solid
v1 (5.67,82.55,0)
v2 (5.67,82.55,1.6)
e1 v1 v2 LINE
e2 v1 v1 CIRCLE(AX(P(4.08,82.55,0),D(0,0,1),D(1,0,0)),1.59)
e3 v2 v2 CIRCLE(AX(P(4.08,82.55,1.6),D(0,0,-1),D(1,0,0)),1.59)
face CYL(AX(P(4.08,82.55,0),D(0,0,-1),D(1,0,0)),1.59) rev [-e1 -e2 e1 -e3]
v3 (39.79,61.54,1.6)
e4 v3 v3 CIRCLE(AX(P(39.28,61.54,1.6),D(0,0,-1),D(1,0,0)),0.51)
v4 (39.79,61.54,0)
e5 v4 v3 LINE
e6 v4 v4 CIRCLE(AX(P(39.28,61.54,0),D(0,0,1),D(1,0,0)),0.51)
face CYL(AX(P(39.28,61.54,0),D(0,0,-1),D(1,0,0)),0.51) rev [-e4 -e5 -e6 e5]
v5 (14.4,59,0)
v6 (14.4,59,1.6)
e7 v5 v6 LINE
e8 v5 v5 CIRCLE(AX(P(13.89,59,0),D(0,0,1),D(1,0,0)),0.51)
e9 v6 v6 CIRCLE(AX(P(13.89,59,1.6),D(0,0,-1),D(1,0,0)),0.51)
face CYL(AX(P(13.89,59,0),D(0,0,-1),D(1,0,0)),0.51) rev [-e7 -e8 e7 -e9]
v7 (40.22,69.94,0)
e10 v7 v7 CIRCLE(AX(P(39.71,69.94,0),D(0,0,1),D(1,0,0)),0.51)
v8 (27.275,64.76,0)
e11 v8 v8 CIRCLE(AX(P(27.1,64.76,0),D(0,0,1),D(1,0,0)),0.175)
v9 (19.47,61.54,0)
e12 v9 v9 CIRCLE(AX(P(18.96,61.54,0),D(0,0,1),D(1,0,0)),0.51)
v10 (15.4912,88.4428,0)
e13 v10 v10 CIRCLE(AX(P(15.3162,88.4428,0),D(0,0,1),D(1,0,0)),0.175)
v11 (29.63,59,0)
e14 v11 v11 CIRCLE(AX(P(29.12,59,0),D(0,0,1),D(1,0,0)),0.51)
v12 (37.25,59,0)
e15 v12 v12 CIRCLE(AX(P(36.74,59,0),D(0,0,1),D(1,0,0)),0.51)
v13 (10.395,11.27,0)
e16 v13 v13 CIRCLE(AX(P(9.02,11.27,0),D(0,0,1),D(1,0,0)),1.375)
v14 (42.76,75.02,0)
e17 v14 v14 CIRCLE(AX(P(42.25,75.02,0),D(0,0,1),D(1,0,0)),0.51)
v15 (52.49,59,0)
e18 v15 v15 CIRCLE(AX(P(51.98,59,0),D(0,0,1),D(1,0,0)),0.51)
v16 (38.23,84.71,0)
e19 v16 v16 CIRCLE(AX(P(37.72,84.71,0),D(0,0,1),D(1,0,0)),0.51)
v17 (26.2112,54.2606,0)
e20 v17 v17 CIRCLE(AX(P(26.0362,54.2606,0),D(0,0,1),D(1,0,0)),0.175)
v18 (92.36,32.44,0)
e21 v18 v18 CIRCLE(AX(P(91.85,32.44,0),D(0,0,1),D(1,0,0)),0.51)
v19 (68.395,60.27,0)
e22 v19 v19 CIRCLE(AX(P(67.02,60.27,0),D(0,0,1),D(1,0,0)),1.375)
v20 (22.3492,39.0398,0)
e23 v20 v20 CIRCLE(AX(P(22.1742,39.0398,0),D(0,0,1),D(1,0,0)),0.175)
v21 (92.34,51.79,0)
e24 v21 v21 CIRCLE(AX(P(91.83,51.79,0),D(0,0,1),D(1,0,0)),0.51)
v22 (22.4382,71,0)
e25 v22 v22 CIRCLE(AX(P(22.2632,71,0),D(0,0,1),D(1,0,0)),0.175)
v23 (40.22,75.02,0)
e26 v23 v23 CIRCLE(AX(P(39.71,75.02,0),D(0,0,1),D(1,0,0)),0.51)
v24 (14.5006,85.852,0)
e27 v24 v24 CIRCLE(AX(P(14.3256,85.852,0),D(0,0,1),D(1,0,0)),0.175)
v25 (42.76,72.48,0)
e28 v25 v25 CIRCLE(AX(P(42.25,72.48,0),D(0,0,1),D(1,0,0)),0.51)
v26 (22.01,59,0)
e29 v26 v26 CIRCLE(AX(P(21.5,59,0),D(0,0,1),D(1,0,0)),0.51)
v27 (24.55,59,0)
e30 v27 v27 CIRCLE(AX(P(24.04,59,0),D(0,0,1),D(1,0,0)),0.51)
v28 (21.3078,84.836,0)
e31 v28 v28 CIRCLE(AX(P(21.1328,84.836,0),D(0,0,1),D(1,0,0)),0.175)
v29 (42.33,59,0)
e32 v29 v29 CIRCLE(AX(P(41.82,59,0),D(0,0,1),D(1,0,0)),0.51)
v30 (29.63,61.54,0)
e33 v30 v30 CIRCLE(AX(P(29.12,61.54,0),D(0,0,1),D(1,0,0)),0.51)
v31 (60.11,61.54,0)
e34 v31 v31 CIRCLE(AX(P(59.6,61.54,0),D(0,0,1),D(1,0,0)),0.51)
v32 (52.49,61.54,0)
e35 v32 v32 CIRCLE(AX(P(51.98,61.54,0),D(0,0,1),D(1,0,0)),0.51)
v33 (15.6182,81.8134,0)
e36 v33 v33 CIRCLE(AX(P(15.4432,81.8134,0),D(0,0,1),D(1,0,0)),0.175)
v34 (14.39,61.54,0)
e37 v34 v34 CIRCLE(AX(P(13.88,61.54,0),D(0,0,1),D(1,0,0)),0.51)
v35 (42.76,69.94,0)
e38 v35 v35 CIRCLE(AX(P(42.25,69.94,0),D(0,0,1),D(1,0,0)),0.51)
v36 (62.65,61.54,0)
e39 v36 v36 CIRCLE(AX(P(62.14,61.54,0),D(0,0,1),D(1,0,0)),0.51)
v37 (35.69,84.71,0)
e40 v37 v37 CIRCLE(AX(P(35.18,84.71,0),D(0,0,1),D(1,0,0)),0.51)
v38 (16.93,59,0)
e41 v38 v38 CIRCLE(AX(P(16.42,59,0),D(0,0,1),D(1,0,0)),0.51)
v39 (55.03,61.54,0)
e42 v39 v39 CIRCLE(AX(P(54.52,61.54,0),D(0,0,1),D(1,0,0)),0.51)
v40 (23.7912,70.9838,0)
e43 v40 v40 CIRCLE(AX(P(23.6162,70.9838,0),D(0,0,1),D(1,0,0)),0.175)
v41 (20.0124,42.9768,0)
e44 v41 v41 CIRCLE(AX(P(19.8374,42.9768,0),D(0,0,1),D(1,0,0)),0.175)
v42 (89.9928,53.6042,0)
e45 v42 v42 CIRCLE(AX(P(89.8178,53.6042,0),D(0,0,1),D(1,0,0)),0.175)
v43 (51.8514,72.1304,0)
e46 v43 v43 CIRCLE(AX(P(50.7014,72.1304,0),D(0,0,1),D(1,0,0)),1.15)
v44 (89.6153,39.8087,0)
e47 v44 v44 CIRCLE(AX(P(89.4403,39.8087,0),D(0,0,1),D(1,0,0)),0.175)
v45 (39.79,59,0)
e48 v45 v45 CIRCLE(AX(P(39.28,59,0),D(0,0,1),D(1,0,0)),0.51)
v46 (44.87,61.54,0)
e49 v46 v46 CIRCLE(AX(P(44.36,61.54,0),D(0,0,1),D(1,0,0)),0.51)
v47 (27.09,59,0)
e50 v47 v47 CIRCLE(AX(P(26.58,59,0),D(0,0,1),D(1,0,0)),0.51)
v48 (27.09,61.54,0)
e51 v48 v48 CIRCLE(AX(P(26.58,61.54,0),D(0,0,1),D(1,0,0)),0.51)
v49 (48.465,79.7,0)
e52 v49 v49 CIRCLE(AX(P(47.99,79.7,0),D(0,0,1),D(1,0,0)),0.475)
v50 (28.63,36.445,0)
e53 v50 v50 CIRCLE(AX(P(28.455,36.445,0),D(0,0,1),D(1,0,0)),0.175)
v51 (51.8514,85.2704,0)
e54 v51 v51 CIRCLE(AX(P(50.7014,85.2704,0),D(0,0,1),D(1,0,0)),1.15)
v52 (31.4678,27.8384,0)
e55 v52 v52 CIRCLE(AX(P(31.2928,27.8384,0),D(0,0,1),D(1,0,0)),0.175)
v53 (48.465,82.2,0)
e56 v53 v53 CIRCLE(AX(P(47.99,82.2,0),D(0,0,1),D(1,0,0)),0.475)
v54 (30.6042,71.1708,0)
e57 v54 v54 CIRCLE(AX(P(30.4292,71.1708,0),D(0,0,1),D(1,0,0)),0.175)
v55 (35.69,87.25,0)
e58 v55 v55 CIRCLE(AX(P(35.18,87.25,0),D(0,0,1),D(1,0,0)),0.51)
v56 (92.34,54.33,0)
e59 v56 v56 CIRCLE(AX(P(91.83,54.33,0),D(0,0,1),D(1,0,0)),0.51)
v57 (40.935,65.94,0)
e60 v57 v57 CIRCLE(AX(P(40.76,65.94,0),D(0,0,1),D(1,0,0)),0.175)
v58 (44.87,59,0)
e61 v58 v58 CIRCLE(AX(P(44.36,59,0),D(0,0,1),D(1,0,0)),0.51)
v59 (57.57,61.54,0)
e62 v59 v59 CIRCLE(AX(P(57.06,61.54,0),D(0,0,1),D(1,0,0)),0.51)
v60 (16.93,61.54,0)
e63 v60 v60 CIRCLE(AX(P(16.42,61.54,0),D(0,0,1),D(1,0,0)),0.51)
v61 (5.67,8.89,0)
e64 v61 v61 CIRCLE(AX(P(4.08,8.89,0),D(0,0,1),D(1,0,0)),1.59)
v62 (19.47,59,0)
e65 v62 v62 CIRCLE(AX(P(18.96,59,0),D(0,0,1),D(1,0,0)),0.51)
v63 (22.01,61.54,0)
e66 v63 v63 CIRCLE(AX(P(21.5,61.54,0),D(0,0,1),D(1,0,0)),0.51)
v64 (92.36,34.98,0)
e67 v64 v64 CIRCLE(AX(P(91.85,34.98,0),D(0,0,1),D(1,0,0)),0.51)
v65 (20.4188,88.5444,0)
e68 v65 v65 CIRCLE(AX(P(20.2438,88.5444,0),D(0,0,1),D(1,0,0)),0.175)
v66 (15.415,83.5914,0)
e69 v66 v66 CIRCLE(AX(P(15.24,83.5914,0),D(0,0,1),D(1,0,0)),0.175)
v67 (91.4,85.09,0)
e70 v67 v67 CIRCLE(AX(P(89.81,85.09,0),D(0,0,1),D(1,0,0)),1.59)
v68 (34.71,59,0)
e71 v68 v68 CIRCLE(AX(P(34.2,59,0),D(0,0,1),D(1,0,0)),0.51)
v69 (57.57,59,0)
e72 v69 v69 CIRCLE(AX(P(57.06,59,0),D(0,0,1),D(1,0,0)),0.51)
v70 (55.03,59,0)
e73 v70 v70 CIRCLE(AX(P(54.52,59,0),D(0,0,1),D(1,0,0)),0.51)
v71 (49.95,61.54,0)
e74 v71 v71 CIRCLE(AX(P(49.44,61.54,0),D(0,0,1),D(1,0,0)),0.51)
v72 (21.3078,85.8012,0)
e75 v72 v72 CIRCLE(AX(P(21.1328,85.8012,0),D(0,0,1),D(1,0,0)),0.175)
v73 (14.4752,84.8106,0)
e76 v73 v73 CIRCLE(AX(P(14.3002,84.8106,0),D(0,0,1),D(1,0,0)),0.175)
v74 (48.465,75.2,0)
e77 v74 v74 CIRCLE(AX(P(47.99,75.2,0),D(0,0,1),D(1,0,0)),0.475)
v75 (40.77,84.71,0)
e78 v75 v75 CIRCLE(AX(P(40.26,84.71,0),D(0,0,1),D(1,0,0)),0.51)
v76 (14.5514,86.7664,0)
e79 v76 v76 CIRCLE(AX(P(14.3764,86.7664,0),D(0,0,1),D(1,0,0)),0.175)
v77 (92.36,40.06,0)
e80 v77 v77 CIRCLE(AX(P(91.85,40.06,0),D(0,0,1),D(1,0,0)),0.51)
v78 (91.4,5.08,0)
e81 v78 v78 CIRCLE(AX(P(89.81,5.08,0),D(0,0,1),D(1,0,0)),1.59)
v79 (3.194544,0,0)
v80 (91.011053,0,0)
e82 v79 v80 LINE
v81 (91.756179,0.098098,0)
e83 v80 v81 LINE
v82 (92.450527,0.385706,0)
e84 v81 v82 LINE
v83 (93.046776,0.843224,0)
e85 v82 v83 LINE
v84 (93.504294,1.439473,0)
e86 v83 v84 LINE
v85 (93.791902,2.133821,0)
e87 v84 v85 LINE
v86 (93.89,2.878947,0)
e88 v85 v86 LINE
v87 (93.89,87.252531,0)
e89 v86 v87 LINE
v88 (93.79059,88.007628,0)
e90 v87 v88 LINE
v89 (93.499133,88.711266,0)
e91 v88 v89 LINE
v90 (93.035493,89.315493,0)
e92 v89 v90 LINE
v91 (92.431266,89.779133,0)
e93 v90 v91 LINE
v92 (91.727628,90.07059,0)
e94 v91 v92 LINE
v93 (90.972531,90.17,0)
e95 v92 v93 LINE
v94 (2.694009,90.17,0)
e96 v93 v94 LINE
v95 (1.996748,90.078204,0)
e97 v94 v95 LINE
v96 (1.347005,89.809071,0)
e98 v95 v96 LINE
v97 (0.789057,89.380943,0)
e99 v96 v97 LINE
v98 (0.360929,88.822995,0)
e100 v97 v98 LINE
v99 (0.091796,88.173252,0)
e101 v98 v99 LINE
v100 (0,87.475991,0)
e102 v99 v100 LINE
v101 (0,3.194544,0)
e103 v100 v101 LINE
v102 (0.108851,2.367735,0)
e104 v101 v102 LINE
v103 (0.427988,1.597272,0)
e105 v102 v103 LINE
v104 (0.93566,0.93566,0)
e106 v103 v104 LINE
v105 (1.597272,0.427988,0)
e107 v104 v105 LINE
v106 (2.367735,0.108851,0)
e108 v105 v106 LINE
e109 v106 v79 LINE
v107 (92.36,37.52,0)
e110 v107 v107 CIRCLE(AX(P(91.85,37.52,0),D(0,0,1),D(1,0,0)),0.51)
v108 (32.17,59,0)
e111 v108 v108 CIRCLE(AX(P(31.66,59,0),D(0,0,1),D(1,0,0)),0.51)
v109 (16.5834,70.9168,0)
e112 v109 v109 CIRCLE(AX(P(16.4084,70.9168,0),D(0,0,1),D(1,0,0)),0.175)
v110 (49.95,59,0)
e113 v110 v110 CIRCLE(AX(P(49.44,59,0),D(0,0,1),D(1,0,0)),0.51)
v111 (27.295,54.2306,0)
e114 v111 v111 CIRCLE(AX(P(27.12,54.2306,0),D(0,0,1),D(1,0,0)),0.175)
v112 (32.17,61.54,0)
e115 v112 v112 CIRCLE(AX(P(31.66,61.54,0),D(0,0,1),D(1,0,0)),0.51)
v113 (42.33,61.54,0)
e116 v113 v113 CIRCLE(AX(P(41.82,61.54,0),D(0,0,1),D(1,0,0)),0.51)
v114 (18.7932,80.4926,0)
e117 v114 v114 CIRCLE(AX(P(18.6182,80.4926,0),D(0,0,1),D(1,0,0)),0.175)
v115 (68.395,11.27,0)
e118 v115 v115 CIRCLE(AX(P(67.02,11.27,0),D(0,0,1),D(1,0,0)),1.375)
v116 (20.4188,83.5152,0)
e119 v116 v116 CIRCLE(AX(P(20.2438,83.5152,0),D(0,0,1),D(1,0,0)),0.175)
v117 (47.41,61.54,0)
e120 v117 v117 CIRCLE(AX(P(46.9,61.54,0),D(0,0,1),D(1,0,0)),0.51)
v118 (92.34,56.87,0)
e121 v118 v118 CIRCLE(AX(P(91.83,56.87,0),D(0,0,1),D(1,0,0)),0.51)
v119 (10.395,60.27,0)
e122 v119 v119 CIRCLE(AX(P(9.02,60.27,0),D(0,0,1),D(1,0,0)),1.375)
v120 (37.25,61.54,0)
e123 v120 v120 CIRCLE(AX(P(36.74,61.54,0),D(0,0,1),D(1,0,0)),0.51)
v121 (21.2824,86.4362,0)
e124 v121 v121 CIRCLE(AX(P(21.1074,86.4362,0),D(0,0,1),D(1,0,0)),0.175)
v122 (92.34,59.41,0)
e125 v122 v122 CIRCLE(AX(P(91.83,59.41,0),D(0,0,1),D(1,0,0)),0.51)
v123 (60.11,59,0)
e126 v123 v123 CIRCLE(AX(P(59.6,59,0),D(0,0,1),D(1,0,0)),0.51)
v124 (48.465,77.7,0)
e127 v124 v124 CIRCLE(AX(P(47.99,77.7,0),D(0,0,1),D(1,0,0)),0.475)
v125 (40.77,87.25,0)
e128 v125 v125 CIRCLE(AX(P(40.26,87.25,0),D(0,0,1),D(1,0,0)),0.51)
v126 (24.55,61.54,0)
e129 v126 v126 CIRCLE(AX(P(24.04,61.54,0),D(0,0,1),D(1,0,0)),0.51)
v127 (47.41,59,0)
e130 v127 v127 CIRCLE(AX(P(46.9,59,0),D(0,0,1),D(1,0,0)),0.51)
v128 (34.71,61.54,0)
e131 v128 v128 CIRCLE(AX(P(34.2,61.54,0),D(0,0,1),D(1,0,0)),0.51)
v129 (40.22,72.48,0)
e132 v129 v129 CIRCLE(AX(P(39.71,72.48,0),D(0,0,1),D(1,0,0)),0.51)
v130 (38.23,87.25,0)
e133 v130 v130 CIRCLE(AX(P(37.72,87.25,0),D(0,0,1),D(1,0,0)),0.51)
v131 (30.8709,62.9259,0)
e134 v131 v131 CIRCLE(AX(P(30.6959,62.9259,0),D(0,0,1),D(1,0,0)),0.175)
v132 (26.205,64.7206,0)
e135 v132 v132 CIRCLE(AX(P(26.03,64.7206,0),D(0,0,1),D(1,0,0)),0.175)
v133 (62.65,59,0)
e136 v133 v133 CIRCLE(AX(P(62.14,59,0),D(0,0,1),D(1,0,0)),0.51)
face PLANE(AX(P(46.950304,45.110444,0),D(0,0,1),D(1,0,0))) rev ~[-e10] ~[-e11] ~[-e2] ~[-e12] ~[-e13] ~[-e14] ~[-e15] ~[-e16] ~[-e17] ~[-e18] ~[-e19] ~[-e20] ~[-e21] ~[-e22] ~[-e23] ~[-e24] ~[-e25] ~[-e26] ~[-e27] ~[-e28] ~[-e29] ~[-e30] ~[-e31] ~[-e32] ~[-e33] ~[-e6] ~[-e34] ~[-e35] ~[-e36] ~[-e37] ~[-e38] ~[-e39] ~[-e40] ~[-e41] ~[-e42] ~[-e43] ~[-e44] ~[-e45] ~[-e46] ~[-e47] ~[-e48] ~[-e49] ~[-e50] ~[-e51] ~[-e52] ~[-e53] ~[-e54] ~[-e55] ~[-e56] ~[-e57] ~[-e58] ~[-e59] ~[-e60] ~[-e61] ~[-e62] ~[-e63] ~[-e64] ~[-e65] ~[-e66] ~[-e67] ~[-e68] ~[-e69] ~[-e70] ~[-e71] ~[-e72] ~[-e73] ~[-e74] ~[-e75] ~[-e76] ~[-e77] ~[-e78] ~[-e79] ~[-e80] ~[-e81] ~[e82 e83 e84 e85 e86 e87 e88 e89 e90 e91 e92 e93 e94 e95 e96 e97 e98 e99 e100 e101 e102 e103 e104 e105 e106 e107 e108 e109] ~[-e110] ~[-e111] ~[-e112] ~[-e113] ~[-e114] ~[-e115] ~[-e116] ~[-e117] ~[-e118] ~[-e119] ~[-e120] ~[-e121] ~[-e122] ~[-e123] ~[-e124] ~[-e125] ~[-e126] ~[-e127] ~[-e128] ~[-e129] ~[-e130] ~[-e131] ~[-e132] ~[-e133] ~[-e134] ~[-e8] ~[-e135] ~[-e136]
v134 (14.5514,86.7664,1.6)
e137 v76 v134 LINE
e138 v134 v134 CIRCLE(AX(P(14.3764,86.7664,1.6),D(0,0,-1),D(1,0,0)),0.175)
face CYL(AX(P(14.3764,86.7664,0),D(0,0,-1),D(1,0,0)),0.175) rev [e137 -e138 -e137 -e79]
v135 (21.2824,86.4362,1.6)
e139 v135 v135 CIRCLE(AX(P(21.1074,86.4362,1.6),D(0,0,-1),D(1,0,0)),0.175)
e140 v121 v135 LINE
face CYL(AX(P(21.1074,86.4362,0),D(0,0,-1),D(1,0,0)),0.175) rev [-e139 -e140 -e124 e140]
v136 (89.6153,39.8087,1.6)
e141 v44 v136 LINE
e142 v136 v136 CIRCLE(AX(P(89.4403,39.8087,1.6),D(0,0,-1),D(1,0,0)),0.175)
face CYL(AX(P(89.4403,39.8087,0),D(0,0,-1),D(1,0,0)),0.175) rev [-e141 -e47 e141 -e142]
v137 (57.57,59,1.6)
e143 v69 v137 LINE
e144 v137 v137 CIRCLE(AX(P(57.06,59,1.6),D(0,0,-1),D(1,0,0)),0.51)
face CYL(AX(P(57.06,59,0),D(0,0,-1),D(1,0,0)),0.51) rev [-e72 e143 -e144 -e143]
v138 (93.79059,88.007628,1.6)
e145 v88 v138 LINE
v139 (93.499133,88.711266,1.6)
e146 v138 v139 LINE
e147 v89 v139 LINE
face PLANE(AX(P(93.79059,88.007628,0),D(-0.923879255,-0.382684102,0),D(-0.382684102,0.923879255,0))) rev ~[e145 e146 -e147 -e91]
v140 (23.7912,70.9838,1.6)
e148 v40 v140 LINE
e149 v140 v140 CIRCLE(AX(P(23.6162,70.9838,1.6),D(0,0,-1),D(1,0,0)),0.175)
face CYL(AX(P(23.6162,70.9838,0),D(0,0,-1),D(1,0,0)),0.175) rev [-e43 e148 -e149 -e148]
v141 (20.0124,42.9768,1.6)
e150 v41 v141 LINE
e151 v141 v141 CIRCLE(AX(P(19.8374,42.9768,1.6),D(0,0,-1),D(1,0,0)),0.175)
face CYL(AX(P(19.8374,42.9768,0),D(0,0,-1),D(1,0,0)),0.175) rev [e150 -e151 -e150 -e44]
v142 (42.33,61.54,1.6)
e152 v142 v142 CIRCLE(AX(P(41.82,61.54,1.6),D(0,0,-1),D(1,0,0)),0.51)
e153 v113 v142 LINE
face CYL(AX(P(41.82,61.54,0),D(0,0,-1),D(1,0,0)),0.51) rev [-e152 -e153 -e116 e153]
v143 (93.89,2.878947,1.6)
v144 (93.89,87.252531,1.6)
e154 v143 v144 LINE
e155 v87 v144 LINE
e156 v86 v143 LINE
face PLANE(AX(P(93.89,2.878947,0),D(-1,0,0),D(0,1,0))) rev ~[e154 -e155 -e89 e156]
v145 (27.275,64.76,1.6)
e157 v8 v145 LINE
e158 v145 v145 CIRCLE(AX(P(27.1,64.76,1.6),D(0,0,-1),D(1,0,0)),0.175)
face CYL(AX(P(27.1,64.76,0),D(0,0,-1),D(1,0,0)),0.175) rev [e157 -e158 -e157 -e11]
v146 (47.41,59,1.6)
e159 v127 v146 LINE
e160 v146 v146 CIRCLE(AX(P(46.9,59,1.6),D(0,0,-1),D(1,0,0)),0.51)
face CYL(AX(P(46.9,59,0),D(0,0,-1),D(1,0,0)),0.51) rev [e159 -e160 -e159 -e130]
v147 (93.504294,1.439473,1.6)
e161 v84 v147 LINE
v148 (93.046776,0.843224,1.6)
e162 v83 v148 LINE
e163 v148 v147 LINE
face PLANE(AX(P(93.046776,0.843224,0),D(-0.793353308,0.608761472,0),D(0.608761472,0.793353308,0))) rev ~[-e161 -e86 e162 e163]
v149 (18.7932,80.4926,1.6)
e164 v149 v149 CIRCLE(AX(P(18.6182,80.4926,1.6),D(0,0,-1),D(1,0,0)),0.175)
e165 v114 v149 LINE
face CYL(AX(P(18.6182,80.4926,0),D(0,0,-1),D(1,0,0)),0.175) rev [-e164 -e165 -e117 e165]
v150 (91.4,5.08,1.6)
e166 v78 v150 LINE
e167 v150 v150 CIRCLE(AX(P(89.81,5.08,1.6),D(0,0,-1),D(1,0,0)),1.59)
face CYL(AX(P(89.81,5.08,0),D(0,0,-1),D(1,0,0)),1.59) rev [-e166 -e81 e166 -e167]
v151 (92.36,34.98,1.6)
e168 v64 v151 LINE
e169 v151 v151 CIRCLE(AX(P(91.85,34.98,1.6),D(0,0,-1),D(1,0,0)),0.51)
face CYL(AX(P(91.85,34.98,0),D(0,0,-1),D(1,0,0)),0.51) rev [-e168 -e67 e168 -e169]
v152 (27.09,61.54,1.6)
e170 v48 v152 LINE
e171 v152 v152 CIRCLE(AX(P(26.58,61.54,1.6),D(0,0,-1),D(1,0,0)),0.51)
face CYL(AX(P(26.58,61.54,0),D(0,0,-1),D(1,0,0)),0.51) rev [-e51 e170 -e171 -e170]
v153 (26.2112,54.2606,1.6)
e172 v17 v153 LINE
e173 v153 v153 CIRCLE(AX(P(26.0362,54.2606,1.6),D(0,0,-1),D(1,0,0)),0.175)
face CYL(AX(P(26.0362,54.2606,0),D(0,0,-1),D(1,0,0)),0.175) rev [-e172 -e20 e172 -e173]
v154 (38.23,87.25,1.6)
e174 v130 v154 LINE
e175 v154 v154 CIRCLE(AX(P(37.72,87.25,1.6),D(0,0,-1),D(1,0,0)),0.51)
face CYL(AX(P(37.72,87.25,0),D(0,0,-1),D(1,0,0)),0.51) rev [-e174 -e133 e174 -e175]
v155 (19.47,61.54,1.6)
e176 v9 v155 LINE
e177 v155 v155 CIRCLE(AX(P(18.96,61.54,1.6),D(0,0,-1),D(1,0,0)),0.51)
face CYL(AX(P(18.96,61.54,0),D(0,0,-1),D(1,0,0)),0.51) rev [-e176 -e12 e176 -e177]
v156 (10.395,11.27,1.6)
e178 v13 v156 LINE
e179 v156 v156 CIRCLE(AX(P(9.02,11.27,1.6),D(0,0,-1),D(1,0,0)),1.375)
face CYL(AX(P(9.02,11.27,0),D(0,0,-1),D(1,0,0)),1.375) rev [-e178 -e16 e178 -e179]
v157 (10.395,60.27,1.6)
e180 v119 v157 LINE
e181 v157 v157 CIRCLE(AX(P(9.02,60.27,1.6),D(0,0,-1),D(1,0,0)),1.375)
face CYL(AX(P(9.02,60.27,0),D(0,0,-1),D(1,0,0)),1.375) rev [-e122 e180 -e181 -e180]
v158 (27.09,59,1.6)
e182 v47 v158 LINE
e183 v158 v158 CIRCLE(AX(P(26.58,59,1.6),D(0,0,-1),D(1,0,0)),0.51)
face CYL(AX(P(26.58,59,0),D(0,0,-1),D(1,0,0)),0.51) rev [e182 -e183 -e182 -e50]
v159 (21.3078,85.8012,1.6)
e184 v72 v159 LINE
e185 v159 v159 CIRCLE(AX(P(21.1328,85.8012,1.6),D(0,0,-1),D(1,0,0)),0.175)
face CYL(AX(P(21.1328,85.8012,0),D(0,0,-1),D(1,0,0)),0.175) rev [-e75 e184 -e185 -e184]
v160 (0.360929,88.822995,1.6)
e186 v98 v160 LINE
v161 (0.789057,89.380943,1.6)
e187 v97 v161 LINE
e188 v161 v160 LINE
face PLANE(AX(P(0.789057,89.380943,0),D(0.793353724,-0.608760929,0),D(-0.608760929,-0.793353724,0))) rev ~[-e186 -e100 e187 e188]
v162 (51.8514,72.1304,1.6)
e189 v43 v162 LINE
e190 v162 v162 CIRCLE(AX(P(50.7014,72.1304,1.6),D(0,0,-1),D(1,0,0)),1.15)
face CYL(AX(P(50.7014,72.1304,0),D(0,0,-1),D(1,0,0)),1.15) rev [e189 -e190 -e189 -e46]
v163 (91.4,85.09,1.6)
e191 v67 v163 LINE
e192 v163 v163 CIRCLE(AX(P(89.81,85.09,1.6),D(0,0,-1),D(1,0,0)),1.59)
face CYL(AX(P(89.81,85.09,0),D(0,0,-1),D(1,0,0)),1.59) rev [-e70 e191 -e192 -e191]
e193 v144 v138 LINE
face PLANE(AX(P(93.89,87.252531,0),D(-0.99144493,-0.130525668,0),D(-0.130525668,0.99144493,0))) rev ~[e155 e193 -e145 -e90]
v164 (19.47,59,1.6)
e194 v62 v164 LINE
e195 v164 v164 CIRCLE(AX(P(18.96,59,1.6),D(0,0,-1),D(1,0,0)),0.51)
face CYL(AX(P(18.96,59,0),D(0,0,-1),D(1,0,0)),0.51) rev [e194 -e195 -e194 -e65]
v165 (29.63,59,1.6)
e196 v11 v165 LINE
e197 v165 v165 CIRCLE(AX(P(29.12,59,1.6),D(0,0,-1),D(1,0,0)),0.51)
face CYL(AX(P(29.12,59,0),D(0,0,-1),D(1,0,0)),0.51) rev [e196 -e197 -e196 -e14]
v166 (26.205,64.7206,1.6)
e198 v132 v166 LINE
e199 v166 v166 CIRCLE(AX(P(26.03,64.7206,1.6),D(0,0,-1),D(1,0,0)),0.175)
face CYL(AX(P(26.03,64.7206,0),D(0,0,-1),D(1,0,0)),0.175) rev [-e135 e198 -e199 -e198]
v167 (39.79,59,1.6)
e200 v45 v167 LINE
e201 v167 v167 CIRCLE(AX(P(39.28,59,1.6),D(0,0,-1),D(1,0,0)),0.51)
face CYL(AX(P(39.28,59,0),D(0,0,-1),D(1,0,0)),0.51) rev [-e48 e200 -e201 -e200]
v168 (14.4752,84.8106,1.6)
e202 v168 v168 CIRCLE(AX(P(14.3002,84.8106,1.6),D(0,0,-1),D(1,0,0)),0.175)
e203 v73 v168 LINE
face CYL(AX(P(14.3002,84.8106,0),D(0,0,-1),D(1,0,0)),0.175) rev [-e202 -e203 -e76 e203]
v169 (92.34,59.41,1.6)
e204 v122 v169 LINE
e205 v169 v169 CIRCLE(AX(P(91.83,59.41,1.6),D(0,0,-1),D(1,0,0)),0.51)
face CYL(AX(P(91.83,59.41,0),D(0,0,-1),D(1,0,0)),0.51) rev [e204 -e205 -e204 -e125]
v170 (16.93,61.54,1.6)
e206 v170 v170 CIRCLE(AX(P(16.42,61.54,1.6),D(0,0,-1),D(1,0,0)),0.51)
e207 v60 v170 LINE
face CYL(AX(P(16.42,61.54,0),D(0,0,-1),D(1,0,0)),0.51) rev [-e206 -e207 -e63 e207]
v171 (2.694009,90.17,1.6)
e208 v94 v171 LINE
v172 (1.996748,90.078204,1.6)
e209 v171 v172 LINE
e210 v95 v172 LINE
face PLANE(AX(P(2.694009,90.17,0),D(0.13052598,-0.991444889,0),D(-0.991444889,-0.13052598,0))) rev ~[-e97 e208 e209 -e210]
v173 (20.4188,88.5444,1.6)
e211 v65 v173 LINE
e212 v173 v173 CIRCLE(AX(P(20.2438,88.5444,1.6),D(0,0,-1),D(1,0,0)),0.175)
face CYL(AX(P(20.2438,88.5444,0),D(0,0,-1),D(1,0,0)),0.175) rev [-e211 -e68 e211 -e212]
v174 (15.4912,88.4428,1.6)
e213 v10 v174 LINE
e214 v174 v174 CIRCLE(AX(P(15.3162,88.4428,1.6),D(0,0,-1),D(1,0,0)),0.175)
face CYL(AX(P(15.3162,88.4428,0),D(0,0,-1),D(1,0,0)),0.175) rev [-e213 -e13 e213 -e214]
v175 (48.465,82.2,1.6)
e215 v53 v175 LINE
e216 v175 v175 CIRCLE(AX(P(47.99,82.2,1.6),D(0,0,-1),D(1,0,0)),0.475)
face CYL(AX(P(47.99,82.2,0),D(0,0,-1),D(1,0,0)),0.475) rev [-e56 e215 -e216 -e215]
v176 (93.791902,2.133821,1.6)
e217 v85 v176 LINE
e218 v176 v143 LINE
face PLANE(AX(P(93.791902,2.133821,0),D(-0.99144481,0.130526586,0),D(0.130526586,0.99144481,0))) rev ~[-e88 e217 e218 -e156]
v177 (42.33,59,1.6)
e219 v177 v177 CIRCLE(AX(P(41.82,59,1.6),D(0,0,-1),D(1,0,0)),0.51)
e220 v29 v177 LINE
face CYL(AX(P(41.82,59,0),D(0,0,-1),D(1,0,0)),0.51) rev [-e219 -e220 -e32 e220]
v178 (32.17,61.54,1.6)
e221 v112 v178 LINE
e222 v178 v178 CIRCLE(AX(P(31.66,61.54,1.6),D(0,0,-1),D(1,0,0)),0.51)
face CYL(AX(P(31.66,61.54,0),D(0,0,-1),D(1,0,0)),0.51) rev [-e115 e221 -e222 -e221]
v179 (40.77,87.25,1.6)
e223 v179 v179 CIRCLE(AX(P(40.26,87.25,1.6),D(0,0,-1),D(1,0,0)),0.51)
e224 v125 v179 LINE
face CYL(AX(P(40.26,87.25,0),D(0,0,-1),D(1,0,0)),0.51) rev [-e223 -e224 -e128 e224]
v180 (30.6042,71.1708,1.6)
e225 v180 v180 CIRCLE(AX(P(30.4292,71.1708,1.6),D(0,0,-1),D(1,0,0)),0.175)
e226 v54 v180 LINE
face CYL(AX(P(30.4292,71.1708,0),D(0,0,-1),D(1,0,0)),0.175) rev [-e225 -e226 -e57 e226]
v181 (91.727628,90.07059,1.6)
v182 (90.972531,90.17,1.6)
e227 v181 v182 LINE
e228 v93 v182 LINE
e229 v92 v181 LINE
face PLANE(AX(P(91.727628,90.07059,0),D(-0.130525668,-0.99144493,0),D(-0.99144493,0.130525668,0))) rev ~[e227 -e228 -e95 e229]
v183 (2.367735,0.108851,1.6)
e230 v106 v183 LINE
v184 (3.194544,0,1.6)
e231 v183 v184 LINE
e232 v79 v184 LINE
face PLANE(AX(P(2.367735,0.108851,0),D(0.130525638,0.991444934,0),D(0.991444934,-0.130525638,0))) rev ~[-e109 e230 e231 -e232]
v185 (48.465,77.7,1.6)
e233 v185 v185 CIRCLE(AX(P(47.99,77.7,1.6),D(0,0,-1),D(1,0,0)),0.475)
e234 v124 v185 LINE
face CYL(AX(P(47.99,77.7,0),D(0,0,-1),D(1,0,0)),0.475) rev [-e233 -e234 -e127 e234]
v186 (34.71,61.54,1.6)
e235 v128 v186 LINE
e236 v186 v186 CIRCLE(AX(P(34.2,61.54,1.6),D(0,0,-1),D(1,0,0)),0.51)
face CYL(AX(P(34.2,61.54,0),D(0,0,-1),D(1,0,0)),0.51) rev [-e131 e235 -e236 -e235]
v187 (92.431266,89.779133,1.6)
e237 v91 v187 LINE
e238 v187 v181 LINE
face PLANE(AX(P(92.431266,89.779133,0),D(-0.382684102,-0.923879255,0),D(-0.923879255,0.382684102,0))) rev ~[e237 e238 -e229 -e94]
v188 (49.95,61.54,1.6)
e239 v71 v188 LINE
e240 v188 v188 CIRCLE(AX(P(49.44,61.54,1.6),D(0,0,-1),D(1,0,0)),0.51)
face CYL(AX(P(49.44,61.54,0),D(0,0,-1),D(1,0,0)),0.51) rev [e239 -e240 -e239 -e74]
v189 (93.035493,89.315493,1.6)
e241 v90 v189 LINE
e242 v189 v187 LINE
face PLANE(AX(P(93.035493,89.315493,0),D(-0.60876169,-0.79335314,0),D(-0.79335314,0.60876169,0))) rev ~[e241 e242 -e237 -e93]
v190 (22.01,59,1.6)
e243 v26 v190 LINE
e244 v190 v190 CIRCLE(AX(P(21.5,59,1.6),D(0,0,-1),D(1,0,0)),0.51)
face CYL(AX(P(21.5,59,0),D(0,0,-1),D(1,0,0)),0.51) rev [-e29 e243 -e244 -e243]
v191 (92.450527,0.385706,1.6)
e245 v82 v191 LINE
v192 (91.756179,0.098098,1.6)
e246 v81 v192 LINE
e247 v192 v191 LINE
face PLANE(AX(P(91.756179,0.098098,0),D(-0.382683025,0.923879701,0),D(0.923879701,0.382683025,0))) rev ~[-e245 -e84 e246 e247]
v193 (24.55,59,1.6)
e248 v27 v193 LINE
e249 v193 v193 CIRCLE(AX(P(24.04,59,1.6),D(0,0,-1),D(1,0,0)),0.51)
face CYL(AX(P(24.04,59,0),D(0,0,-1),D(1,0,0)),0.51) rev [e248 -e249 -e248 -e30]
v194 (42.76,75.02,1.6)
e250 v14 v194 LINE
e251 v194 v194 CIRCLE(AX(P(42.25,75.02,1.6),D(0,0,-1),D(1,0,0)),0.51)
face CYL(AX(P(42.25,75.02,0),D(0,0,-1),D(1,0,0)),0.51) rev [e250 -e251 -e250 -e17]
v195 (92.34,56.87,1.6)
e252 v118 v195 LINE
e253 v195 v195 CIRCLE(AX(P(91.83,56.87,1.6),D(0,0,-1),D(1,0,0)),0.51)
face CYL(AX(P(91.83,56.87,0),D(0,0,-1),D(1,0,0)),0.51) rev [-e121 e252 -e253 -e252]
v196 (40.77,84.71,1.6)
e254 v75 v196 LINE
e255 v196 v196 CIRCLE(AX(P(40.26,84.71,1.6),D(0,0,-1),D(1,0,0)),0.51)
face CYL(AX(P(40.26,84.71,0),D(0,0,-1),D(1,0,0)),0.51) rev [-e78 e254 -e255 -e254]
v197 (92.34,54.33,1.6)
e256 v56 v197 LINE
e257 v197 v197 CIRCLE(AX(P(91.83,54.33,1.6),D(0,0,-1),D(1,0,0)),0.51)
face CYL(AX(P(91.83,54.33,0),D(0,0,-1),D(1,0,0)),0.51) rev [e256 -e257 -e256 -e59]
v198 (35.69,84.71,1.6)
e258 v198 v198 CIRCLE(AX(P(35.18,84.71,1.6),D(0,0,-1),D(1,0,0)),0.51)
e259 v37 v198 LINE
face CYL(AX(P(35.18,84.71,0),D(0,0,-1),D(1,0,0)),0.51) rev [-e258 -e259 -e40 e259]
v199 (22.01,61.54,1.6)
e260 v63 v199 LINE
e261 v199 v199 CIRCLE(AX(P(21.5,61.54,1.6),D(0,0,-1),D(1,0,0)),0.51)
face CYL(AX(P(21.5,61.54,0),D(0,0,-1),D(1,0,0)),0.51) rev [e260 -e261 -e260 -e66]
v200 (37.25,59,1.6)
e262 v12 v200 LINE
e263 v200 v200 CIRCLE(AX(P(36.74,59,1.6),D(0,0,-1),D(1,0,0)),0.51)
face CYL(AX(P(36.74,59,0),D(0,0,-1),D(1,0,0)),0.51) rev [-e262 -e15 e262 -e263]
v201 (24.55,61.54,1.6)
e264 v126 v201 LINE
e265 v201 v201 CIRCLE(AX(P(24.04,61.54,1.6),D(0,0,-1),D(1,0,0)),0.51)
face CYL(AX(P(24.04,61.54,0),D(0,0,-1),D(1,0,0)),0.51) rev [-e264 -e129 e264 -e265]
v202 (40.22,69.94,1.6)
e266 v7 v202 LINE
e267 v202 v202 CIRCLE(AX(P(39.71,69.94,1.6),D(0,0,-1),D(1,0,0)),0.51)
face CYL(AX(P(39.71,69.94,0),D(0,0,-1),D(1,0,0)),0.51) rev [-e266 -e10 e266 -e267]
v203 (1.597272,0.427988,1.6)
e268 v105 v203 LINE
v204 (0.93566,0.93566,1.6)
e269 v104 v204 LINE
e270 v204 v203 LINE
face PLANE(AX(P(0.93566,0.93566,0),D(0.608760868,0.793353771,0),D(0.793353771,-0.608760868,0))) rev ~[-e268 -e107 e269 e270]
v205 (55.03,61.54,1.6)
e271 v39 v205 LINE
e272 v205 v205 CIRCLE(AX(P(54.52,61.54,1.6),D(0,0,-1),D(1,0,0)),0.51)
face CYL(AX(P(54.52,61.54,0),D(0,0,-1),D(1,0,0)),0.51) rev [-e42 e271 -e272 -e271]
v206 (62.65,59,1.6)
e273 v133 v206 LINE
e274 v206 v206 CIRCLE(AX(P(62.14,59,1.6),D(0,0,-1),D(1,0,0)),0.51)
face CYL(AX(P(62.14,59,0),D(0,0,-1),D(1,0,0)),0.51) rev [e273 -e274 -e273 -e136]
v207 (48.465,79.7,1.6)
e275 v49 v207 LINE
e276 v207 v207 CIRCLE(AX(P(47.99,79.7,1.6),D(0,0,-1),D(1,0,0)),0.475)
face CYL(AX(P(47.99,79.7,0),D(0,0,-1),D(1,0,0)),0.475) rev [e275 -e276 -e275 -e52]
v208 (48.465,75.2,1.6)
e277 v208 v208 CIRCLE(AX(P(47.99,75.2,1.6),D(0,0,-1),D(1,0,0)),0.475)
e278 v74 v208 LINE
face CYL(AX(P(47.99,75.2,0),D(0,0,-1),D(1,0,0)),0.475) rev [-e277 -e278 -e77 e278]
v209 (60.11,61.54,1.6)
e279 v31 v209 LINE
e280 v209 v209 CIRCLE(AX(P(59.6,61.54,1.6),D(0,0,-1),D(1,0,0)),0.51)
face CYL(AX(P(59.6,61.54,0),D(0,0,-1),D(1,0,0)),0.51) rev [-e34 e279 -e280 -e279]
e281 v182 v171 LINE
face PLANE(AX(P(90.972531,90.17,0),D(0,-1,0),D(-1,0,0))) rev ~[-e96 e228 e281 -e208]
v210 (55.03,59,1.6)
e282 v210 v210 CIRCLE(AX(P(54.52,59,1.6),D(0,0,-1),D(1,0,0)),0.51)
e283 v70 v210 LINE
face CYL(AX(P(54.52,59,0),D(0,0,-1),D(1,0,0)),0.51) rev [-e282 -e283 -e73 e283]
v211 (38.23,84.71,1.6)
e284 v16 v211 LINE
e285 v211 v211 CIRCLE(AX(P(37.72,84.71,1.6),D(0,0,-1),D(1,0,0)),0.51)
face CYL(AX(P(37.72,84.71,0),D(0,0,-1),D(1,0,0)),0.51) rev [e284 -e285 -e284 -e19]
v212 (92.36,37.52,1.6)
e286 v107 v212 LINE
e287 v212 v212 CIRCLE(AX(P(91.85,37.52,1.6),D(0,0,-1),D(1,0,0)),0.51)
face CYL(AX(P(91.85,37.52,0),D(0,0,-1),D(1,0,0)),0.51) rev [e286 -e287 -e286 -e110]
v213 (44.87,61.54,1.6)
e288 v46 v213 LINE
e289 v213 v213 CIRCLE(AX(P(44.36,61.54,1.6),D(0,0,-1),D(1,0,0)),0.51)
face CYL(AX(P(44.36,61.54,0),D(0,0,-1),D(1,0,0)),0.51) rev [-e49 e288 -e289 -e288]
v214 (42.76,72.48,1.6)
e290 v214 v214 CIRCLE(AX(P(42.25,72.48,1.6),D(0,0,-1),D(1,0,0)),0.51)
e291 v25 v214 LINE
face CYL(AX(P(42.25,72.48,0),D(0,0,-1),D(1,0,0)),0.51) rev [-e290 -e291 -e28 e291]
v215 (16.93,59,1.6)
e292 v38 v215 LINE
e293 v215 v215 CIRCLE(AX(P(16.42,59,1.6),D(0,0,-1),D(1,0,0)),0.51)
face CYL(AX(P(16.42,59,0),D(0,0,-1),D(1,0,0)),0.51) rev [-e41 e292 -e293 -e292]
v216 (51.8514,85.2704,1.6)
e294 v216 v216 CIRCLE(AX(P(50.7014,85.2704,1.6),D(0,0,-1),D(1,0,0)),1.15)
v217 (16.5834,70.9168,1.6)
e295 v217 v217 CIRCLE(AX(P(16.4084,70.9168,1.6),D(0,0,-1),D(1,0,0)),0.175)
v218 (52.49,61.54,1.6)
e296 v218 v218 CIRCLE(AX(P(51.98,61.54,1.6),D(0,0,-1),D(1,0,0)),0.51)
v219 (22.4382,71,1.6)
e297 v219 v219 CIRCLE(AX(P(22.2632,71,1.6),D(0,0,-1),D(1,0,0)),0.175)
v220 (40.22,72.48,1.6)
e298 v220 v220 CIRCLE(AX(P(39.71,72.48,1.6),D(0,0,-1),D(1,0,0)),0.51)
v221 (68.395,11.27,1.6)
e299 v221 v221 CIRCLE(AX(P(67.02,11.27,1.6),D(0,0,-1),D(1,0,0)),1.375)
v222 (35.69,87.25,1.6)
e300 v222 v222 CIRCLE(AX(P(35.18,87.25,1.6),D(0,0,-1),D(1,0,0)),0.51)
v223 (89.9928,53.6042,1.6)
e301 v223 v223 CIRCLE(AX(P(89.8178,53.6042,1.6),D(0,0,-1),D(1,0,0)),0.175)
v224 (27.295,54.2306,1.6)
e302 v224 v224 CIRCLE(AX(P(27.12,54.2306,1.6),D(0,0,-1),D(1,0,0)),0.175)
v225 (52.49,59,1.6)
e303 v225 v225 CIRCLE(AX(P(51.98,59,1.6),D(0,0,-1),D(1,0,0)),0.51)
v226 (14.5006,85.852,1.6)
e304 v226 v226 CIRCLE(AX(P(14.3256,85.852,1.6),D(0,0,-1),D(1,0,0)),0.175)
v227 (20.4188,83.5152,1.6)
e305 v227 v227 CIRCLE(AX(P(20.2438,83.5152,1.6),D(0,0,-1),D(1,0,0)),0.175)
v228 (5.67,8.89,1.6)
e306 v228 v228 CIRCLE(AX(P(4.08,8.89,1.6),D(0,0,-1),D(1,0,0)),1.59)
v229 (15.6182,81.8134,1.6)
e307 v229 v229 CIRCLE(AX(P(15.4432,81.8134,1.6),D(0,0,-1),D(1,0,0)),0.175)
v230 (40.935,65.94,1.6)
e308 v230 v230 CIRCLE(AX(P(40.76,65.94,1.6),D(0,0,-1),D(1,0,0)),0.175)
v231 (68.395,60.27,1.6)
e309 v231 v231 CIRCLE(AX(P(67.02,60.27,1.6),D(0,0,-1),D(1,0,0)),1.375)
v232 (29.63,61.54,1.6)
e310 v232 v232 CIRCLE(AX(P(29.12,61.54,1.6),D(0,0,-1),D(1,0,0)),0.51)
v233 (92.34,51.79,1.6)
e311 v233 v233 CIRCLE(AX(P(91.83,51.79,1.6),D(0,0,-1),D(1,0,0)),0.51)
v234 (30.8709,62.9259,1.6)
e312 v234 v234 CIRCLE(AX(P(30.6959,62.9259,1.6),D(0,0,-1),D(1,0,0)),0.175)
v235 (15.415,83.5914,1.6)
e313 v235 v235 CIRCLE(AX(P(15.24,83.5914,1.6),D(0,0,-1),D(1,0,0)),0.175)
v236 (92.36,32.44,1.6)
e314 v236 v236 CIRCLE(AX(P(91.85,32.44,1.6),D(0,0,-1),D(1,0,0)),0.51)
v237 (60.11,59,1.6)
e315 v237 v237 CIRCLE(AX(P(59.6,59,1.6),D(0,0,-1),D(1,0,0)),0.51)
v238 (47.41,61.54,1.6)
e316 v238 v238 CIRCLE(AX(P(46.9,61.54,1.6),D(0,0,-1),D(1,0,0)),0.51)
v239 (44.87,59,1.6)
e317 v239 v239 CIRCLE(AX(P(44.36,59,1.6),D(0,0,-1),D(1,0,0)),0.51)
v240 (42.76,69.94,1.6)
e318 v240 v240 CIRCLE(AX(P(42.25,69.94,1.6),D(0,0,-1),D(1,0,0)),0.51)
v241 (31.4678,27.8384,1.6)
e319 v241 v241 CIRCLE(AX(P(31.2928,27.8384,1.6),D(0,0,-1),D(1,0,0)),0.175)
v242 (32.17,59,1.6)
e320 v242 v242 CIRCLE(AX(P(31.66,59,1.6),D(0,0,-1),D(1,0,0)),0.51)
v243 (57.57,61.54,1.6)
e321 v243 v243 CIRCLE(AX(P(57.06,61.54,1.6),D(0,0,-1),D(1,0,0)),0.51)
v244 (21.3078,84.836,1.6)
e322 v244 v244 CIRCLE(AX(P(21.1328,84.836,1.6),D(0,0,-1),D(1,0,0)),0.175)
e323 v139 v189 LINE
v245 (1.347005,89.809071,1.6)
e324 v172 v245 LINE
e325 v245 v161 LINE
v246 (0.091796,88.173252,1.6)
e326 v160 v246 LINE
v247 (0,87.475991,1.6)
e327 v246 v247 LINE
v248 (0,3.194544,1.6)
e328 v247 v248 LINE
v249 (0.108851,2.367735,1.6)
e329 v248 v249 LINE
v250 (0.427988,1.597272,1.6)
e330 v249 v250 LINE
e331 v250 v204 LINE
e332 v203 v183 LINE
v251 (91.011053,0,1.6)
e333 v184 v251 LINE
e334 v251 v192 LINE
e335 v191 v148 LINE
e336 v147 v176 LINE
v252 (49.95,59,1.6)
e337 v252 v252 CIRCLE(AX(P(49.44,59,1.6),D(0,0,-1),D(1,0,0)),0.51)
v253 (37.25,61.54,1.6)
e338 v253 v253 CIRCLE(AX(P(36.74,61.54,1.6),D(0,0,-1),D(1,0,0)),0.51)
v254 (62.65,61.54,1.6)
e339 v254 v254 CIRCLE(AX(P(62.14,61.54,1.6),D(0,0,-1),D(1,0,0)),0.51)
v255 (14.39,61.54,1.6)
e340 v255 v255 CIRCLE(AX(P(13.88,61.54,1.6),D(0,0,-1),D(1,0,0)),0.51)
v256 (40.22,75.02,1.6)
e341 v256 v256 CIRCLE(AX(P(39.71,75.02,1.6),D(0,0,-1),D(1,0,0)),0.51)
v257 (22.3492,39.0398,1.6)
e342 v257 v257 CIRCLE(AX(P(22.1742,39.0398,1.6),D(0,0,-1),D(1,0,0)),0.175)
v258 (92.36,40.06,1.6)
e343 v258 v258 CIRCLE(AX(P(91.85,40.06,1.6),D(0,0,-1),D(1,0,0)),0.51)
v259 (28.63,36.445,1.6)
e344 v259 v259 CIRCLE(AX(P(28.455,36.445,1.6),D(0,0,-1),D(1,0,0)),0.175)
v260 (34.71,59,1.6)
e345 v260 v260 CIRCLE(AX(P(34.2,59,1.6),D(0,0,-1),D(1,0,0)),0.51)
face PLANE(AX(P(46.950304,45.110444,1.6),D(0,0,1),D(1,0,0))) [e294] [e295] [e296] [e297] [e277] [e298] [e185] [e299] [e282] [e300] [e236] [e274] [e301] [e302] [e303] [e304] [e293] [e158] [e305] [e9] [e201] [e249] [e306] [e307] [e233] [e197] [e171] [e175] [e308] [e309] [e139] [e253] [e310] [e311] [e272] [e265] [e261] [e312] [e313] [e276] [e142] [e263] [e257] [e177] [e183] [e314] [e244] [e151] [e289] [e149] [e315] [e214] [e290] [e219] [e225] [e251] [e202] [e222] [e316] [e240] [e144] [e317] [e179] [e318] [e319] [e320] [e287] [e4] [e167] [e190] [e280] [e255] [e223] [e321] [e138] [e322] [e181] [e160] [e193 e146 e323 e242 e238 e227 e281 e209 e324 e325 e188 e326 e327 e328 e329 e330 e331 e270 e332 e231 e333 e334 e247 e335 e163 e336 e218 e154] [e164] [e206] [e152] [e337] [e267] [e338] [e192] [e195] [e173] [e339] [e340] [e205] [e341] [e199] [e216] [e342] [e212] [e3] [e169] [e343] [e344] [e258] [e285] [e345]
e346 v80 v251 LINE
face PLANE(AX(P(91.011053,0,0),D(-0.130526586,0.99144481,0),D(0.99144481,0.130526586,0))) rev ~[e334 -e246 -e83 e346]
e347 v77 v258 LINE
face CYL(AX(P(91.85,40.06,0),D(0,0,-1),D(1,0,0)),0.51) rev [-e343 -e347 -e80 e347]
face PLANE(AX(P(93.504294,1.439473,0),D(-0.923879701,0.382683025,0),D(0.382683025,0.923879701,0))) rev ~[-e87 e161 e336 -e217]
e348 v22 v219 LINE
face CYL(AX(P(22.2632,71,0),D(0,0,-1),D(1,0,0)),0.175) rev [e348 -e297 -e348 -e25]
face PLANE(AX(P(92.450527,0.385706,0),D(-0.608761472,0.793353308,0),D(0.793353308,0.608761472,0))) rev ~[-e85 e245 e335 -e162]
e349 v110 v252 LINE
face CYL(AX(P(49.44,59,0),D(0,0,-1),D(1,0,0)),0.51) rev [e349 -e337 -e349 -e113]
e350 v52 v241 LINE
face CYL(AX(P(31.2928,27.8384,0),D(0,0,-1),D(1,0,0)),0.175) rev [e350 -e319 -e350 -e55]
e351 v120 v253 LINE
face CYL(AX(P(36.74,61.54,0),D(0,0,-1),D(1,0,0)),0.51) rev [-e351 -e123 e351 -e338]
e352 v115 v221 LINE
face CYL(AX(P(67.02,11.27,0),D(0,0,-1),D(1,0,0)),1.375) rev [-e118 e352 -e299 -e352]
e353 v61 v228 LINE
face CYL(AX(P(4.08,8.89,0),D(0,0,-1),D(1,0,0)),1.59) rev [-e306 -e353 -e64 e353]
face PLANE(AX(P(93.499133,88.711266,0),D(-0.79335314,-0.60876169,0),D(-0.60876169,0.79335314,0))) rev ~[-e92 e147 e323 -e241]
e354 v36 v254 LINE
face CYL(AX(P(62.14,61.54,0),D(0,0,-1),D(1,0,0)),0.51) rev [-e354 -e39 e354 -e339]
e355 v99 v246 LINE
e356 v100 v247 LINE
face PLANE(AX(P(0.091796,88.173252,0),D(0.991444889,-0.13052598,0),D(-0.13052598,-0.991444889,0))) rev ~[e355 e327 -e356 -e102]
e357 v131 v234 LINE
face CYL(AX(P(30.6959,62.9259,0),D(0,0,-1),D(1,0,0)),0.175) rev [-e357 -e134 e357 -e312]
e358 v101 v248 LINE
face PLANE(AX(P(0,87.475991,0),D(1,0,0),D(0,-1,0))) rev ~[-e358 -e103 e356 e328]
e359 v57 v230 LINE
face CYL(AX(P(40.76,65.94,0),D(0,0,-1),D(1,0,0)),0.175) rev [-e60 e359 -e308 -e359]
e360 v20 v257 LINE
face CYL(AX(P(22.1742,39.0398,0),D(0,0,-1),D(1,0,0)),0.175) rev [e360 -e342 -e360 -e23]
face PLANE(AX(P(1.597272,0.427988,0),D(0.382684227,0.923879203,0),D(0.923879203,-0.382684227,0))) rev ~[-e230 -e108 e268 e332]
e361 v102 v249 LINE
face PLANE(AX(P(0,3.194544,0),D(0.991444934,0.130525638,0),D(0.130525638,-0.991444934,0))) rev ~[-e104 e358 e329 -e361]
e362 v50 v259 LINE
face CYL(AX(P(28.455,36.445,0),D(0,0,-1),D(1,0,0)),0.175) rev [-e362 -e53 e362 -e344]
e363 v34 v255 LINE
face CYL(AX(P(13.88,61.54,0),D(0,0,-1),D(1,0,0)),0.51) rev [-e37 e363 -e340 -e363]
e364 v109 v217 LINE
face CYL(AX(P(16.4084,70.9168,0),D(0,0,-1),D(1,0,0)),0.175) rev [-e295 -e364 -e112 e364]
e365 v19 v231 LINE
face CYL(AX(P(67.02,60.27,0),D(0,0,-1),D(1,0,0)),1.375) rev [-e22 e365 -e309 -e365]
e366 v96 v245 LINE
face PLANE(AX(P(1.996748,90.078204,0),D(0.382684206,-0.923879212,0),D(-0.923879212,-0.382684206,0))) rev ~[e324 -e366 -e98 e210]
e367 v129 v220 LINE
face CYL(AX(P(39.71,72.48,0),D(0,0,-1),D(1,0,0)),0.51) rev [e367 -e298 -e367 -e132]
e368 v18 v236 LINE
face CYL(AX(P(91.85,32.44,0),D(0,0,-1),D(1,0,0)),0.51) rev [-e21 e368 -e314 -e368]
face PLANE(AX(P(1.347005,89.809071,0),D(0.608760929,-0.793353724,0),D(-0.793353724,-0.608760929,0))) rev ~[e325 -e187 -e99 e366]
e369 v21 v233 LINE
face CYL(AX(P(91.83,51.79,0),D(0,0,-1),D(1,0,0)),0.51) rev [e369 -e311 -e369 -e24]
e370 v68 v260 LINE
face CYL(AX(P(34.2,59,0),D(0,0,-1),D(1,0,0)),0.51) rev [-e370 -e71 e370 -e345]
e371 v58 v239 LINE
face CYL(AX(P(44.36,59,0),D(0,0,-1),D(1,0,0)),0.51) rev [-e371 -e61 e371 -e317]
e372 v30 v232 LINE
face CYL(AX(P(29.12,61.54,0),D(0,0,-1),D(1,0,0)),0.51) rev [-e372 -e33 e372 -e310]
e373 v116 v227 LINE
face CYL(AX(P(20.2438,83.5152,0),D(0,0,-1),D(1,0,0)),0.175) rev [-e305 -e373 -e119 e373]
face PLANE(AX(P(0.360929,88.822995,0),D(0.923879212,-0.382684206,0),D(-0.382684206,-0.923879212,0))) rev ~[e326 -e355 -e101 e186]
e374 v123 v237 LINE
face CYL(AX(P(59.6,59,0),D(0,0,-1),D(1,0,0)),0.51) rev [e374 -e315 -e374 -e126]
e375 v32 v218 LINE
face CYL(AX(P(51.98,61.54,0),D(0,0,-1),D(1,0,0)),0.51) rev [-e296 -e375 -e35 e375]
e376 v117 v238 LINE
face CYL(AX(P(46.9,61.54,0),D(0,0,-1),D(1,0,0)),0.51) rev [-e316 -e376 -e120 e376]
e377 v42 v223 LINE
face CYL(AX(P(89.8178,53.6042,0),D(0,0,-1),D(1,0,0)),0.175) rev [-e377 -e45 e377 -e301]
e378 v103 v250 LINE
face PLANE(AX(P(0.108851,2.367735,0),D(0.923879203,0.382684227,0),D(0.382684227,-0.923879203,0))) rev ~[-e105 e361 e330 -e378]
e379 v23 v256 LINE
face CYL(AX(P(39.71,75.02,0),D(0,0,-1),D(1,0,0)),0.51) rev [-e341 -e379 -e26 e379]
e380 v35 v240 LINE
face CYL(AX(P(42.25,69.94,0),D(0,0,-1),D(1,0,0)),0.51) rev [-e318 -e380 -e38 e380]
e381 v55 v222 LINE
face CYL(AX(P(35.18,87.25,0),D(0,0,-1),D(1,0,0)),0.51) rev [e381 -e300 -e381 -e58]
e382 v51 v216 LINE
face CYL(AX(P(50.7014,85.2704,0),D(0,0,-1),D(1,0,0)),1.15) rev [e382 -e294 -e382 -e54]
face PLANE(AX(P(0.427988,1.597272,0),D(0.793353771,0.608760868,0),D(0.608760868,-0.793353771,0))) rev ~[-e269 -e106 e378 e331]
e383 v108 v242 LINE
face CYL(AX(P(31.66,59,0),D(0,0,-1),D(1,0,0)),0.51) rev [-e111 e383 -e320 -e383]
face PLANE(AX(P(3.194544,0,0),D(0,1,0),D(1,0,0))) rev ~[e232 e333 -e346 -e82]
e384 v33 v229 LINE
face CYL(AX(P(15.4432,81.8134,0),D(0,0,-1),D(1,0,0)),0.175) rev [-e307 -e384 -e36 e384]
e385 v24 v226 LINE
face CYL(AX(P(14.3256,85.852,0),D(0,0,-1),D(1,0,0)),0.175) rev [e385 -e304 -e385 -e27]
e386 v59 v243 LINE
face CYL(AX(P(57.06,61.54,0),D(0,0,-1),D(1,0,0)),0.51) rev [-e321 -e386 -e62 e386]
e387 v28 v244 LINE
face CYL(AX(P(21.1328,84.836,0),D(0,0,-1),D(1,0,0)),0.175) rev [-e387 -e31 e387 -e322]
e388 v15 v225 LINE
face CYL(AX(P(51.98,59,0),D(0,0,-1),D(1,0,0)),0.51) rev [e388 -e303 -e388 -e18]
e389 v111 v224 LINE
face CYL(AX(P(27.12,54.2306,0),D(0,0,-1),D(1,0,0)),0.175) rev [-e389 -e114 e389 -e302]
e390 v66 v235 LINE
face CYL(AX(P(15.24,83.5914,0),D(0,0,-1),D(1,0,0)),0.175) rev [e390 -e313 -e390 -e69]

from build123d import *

# Parameters (mm, degrees)
BOARD_OUTLINE_DEPTH = 1.6
ESQUISSE2_R         = 1.59
ESQUISSE2_R_2       = 1.375
ESQUISSE2_R_3       = 1.15
ESQUISSE2_R_4       = 0.175
NPTH_DEPTH          = 131.186485474
ESQUISSE3_R         = 0.51
ESQUISSE3_R_2       = 0.475
PTH_DEPTH           = 131.186485474


with BuildPart() as part:
    # Esquisse1 → Board_Outline (new body)
    with BuildSketch(Plane.XY):
        Polygon((0, 87.475991), (0, 3.194544), (0.108851, 2.367735), (0.427988, 1.597272), (0.93566, 0.93566), (1.597272, 0.427988), (2.367735, 0.108851), (3.194544, 0), (91.011053, 0), (91.756179, 0.098098), (92.450527, 0.385706), (93.046776, 0.843224), (93.504294, 1.439473), (93.791902, 2.133821), (93.89, 2.878947), (93.89, 87.252531), (93.79059, 88.007628), (93.499133, 88.711266), (93.035493, 89.315493), (92.431266, 89.779133), (91.727628, 90.07059), (90.972531, 90.17), (2.694009, 90.17), (1.996748, 90.078204), (1.347005, 89.809071), (0.789057, 89.380943), (0.360929, 88.822995), (0.091796, 88.173252), align=None)
    extrude(amount=BOARD_OUTLINE_DEPTH)

    # Esquisse2 → NPTH (cut, through all)
    with BuildSketch(Plane.XY):
        with Locations((4.08, 8.89)):
            Circle(ESQUISSE2_R)
        with Locations((89.81, 5.08)):
            Circle(ESQUISSE2_R)
        with Locations((89.81, 85.09)):
            Circle(ESQUISSE2_R)
        with Locations((4.08, 82.55)):
            Circle(ESQUISSE2_R)
        with Locations((9.02, 11.27)):
            Circle(ESQUISSE2_R_2)
        with Locations((67.02, 11.27)):
            Circle(ESQUISSE2_R_2)
        with Locations((9.02, 60.27)):
            Circle(ESQUISSE2_R_2)
        with Locations((67.02, 60.27)):
            Circle(ESQUISSE2_R_2)
        with Locations((50.7014, 72.1304)):
            Circle(ESQUISSE2_R_3)
        with Locations((50.7014, 85.2704)):
            Circle(ESQUISSE2_R_3)
        with Locations((89.4403, 39.8087)):
            Circle(ESQUISSE2_R_4)
        with Locations((15.24, 83.5914)):
            Circle(ESQUISSE2_R_4)
        with Locations((20.2438, 83.5152)):
            Circle(ESQUISSE2_R_4)
        with Locations((15.4432, 81.8134)):
            Circle(ESQUISSE2_R_4)
        with Locations((18.6182, 80.4926)):
            Circle(ESQUISSE2_R_4)
        with Locations((15.3162, 88.4428)):
            Circle(ESQUISSE2_R_4)
        with Locations((20.2438, 88.5444)):
            Circle(ESQUISSE2_R_4)
        with Locations((14.3764, 86.7664)):
            Circle(ESQUISSE2_R_4)
        with Locations((14.3256, 85.852)):
            Circle(ESQUISSE2_R_4)
        with Locations((14.3002, 84.8106)):
            Circle(ESQUISSE2_R_4)
        with Locations((21.1074, 86.4362)):
            Circle(ESQUISSE2_R_4)
        with Locations((21.1328, 85.8012)):
            Circle(ESQUISSE2_R_4)
        with Locations((21.1328, 84.836)):
            Circle(ESQUISSE2_R_4)
        with Locations((30.4292, 71.1708)):
            Circle(ESQUISSE2_R_4)
        with Locations((19.8374, 42.9768)):
            Circle(ESQUISSE2_R_4)
        with Locations((16.4084, 70.9168)):
            Circle(ESQUISSE2_R_4)
        with Locations((22.1742, 39.0398)):
            Circle(ESQUISSE2_R_4)
        with Locations((28.455, 36.445)):
            Circle(ESQUISSE2_R_4)
        with Locations((31.2928, 27.8384)):
            Circle(ESQUISSE2_R_4)
        with Locations((26.03, 64.7206)):
            Circle(ESQUISSE2_R_4)
        with Locations((26.0362, 54.2606)):
            Circle(ESQUISSE2_R_4)
        with Locations((27.1, 64.76)):
            Circle(ESQUISSE2_R_4)
        with Locations((27.12, 54.2306)):
            Circle(ESQUISSE2_R_4)
        with Locations((30.6959, 62.9259)):
            Circle(ESQUISSE2_R_4)
        with Locations((40.76, 65.94)):
            Circle(ESQUISSE2_R_4)
        with Locations((89.8178, 53.6042)):
            Circle(ESQUISSE2_R_4)
        with Locations((22.2632, 71)):
            Circle(ESQUISSE2_R_4)
        with Locations((23.6162, 70.9838)):
            Circle(ESQUISSE2_R_4)
    extrude(amount=NPTH_DEPTH, mode=Mode.SUBTRACT)

    # Esquisse3 → PTH (cut, through all)
    with BuildSketch(Plane.XY):
        with Locations((91.83, 51.79)):
            Circle(ESQUISSE3_R)
        with Locations((91.83, 54.33)):
            Circle(ESQUISSE3_R)
        with Locations((91.83, 56.87)):
            Circle(ESQUISSE3_R)
        with Locations((91.83, 59.41)):
            Circle(ESQUISSE3_R)
        with Locations((91.85, 32.44)):
            Circle(ESQUISSE3_R)
        with Locations((91.85, 34.98)):
            Circle(ESQUISSE3_R)
        with Locations((91.85, 37.52)):
            Circle(ESQUISSE3_R)
        with Locations((91.85, 40.06)):
            Circle(ESQUISSE3_R)
        with Locations((35.18, 84.71)):
            Circle(ESQUISSE3_R)
        with Locations((35.18, 87.25)):
            Circle(ESQUISSE3_R)
        with Locations((37.72, 84.71)):
            Circle(ESQUISSE3_R)
        with Locations((37.72, 87.25)):
            Circle(ESQUISSE3_R)
        with Locations((40.26, 84.71)):
            Circle(ESQUISSE3_R)
        with Locations((40.26, 87.25)):
            Circle(ESQUISSE3_R)
        with Locations((39.71, 75.02)):
            Circle(ESQUISSE3_R)
        with Locations((42.25, 75.02)):
            Circle(ESQUISSE3_R)
        with Locations((39.71, 72.48)):
            Circle(ESQUISSE3_R)
        with Locations((42.25, 72.48)):
            Circle(ESQUISSE3_R)
        with Locations((39.71, 69.94)):
            Circle(ESQUISSE3_R)
        with Locations((42.25, 69.94)):
            Circle(ESQUISSE3_R)
        with Locations((13.89, 59)):
            Circle(ESQUISSE3_R)
        with Locations((13.88, 61.54)):
            Circle(ESQUISSE3_R)
        with Locations((16.42, 59)):
            Circle(ESQUISSE3_R)
        with Locations((16.42, 61.54)):
            Circle(ESQUISSE3_R)
        with Locations((18.96, 59)):
            Circle(ESQUISSE3_R)
        with Locations((18.96, 61.54)):
            Circle(ESQUISSE3_R)
        with Locations((21.5, 59)):
            Circle(ESQUISSE3_R)
        with Locations((21.5, 61.54)):
            Circle(ESQUISSE3_R)
        with Locations((24.04, 59)):
            Circle(ESQUISSE3_R)
        with Locations((24.04, 61.54)):
            Circle(ESQUISSE3_R)
        with Locations((26.58, 59)):
            Circle(ESQUISSE3_R)
        with Locations((26.58, 61.54)):
            Circle(ESQUISSE3_R)
        with Locations((29.12, 59)):
            Circle(ESQUISSE3_R)
        with Locations((29.12, 61.54)):
            Circle(ESQUISSE3_R)
        with Locations((31.66, 59)):
            Circle(ESQUISSE3_R)
        with Locations((31.66, 61.54)):
            Circle(ESQUISSE3_R)
        with Locations((34.2, 59)):
            Circle(ESQUISSE3_R)
        with Locations((34.2, 61.54)):
            Circle(ESQUISSE3_R)
        with Locations((36.74, 59)):
            Circle(ESQUISSE3_R)
        with Locations((36.74, 61.54)):
            Circle(ESQUISSE3_R)
        with Locations((39.28, 59)):
            Circle(ESQUISSE3_R)
        with Locations((39.28, 61.54)):
            Circle(ESQUISSE3_R)
        with Locations((41.82, 59)):
            Circle(ESQUISSE3_R)
        with Locations((41.82, 61.54)):
            Circle(ESQUISSE3_R)
        with Locations((44.36, 59)):
            Circle(ESQUISSE3_R)
        with Locations((44.36, 61.54)):
            Circle(ESQUISSE3_R)
        with Locations((46.9, 59)):
            Circle(ESQUISSE3_R)
        with Locations((46.9, 61.54)):
            Circle(ESQUISSE3_R)
        with Locations((49.44, 59)):
            Circle(ESQUISSE3_R)
        with Locations((49.44, 61.54)):
            Circle(ESQUISSE3_R)
        with Locations((51.98, 59)):
            Circle(ESQUISSE3_R)
        with Locations((51.98, 61.54)):
            Circle(ESQUISSE3_R)
        with Locations((54.52, 59)):
            Circle(ESQUISSE3_R)
        with Locations((54.52, 61.54)):
            Circle(ESQUISSE3_R)
        with Locations((57.06, 59)):
            Circle(ESQUISSE3_R)
        with Locations((57.06, 61.54)):
            Circle(ESQUISSE3_R)
        with Locations((59.6, 59)):
            Circle(ESQUISSE3_R)
        with Locations((59.6, 61.54)):
            Circle(ESQUISSE3_R)
        with Locations((62.14, 59)):
            Circle(ESQUISSE3_R)
        with Locations((62.14, 61.54)):
            Circle(ESQUISSE3_R)
        with Locations((47.99, 75.2)):
            Circle(ESQUISSE3_R_2)
        with Locations((47.99, 77.7)):
            Circle(ESQUISSE3_R_2)
        with Locations((47.99, 79.7)):
            Circle(ESQUISSE3_R_2)
        with Locations((47.99, 82.2)):
            Circle(ESQUISSE3_R_2)
    extrude(amount=PTH_DEPTH, mode=Mode.SUBTRACT)


solid = part.part
